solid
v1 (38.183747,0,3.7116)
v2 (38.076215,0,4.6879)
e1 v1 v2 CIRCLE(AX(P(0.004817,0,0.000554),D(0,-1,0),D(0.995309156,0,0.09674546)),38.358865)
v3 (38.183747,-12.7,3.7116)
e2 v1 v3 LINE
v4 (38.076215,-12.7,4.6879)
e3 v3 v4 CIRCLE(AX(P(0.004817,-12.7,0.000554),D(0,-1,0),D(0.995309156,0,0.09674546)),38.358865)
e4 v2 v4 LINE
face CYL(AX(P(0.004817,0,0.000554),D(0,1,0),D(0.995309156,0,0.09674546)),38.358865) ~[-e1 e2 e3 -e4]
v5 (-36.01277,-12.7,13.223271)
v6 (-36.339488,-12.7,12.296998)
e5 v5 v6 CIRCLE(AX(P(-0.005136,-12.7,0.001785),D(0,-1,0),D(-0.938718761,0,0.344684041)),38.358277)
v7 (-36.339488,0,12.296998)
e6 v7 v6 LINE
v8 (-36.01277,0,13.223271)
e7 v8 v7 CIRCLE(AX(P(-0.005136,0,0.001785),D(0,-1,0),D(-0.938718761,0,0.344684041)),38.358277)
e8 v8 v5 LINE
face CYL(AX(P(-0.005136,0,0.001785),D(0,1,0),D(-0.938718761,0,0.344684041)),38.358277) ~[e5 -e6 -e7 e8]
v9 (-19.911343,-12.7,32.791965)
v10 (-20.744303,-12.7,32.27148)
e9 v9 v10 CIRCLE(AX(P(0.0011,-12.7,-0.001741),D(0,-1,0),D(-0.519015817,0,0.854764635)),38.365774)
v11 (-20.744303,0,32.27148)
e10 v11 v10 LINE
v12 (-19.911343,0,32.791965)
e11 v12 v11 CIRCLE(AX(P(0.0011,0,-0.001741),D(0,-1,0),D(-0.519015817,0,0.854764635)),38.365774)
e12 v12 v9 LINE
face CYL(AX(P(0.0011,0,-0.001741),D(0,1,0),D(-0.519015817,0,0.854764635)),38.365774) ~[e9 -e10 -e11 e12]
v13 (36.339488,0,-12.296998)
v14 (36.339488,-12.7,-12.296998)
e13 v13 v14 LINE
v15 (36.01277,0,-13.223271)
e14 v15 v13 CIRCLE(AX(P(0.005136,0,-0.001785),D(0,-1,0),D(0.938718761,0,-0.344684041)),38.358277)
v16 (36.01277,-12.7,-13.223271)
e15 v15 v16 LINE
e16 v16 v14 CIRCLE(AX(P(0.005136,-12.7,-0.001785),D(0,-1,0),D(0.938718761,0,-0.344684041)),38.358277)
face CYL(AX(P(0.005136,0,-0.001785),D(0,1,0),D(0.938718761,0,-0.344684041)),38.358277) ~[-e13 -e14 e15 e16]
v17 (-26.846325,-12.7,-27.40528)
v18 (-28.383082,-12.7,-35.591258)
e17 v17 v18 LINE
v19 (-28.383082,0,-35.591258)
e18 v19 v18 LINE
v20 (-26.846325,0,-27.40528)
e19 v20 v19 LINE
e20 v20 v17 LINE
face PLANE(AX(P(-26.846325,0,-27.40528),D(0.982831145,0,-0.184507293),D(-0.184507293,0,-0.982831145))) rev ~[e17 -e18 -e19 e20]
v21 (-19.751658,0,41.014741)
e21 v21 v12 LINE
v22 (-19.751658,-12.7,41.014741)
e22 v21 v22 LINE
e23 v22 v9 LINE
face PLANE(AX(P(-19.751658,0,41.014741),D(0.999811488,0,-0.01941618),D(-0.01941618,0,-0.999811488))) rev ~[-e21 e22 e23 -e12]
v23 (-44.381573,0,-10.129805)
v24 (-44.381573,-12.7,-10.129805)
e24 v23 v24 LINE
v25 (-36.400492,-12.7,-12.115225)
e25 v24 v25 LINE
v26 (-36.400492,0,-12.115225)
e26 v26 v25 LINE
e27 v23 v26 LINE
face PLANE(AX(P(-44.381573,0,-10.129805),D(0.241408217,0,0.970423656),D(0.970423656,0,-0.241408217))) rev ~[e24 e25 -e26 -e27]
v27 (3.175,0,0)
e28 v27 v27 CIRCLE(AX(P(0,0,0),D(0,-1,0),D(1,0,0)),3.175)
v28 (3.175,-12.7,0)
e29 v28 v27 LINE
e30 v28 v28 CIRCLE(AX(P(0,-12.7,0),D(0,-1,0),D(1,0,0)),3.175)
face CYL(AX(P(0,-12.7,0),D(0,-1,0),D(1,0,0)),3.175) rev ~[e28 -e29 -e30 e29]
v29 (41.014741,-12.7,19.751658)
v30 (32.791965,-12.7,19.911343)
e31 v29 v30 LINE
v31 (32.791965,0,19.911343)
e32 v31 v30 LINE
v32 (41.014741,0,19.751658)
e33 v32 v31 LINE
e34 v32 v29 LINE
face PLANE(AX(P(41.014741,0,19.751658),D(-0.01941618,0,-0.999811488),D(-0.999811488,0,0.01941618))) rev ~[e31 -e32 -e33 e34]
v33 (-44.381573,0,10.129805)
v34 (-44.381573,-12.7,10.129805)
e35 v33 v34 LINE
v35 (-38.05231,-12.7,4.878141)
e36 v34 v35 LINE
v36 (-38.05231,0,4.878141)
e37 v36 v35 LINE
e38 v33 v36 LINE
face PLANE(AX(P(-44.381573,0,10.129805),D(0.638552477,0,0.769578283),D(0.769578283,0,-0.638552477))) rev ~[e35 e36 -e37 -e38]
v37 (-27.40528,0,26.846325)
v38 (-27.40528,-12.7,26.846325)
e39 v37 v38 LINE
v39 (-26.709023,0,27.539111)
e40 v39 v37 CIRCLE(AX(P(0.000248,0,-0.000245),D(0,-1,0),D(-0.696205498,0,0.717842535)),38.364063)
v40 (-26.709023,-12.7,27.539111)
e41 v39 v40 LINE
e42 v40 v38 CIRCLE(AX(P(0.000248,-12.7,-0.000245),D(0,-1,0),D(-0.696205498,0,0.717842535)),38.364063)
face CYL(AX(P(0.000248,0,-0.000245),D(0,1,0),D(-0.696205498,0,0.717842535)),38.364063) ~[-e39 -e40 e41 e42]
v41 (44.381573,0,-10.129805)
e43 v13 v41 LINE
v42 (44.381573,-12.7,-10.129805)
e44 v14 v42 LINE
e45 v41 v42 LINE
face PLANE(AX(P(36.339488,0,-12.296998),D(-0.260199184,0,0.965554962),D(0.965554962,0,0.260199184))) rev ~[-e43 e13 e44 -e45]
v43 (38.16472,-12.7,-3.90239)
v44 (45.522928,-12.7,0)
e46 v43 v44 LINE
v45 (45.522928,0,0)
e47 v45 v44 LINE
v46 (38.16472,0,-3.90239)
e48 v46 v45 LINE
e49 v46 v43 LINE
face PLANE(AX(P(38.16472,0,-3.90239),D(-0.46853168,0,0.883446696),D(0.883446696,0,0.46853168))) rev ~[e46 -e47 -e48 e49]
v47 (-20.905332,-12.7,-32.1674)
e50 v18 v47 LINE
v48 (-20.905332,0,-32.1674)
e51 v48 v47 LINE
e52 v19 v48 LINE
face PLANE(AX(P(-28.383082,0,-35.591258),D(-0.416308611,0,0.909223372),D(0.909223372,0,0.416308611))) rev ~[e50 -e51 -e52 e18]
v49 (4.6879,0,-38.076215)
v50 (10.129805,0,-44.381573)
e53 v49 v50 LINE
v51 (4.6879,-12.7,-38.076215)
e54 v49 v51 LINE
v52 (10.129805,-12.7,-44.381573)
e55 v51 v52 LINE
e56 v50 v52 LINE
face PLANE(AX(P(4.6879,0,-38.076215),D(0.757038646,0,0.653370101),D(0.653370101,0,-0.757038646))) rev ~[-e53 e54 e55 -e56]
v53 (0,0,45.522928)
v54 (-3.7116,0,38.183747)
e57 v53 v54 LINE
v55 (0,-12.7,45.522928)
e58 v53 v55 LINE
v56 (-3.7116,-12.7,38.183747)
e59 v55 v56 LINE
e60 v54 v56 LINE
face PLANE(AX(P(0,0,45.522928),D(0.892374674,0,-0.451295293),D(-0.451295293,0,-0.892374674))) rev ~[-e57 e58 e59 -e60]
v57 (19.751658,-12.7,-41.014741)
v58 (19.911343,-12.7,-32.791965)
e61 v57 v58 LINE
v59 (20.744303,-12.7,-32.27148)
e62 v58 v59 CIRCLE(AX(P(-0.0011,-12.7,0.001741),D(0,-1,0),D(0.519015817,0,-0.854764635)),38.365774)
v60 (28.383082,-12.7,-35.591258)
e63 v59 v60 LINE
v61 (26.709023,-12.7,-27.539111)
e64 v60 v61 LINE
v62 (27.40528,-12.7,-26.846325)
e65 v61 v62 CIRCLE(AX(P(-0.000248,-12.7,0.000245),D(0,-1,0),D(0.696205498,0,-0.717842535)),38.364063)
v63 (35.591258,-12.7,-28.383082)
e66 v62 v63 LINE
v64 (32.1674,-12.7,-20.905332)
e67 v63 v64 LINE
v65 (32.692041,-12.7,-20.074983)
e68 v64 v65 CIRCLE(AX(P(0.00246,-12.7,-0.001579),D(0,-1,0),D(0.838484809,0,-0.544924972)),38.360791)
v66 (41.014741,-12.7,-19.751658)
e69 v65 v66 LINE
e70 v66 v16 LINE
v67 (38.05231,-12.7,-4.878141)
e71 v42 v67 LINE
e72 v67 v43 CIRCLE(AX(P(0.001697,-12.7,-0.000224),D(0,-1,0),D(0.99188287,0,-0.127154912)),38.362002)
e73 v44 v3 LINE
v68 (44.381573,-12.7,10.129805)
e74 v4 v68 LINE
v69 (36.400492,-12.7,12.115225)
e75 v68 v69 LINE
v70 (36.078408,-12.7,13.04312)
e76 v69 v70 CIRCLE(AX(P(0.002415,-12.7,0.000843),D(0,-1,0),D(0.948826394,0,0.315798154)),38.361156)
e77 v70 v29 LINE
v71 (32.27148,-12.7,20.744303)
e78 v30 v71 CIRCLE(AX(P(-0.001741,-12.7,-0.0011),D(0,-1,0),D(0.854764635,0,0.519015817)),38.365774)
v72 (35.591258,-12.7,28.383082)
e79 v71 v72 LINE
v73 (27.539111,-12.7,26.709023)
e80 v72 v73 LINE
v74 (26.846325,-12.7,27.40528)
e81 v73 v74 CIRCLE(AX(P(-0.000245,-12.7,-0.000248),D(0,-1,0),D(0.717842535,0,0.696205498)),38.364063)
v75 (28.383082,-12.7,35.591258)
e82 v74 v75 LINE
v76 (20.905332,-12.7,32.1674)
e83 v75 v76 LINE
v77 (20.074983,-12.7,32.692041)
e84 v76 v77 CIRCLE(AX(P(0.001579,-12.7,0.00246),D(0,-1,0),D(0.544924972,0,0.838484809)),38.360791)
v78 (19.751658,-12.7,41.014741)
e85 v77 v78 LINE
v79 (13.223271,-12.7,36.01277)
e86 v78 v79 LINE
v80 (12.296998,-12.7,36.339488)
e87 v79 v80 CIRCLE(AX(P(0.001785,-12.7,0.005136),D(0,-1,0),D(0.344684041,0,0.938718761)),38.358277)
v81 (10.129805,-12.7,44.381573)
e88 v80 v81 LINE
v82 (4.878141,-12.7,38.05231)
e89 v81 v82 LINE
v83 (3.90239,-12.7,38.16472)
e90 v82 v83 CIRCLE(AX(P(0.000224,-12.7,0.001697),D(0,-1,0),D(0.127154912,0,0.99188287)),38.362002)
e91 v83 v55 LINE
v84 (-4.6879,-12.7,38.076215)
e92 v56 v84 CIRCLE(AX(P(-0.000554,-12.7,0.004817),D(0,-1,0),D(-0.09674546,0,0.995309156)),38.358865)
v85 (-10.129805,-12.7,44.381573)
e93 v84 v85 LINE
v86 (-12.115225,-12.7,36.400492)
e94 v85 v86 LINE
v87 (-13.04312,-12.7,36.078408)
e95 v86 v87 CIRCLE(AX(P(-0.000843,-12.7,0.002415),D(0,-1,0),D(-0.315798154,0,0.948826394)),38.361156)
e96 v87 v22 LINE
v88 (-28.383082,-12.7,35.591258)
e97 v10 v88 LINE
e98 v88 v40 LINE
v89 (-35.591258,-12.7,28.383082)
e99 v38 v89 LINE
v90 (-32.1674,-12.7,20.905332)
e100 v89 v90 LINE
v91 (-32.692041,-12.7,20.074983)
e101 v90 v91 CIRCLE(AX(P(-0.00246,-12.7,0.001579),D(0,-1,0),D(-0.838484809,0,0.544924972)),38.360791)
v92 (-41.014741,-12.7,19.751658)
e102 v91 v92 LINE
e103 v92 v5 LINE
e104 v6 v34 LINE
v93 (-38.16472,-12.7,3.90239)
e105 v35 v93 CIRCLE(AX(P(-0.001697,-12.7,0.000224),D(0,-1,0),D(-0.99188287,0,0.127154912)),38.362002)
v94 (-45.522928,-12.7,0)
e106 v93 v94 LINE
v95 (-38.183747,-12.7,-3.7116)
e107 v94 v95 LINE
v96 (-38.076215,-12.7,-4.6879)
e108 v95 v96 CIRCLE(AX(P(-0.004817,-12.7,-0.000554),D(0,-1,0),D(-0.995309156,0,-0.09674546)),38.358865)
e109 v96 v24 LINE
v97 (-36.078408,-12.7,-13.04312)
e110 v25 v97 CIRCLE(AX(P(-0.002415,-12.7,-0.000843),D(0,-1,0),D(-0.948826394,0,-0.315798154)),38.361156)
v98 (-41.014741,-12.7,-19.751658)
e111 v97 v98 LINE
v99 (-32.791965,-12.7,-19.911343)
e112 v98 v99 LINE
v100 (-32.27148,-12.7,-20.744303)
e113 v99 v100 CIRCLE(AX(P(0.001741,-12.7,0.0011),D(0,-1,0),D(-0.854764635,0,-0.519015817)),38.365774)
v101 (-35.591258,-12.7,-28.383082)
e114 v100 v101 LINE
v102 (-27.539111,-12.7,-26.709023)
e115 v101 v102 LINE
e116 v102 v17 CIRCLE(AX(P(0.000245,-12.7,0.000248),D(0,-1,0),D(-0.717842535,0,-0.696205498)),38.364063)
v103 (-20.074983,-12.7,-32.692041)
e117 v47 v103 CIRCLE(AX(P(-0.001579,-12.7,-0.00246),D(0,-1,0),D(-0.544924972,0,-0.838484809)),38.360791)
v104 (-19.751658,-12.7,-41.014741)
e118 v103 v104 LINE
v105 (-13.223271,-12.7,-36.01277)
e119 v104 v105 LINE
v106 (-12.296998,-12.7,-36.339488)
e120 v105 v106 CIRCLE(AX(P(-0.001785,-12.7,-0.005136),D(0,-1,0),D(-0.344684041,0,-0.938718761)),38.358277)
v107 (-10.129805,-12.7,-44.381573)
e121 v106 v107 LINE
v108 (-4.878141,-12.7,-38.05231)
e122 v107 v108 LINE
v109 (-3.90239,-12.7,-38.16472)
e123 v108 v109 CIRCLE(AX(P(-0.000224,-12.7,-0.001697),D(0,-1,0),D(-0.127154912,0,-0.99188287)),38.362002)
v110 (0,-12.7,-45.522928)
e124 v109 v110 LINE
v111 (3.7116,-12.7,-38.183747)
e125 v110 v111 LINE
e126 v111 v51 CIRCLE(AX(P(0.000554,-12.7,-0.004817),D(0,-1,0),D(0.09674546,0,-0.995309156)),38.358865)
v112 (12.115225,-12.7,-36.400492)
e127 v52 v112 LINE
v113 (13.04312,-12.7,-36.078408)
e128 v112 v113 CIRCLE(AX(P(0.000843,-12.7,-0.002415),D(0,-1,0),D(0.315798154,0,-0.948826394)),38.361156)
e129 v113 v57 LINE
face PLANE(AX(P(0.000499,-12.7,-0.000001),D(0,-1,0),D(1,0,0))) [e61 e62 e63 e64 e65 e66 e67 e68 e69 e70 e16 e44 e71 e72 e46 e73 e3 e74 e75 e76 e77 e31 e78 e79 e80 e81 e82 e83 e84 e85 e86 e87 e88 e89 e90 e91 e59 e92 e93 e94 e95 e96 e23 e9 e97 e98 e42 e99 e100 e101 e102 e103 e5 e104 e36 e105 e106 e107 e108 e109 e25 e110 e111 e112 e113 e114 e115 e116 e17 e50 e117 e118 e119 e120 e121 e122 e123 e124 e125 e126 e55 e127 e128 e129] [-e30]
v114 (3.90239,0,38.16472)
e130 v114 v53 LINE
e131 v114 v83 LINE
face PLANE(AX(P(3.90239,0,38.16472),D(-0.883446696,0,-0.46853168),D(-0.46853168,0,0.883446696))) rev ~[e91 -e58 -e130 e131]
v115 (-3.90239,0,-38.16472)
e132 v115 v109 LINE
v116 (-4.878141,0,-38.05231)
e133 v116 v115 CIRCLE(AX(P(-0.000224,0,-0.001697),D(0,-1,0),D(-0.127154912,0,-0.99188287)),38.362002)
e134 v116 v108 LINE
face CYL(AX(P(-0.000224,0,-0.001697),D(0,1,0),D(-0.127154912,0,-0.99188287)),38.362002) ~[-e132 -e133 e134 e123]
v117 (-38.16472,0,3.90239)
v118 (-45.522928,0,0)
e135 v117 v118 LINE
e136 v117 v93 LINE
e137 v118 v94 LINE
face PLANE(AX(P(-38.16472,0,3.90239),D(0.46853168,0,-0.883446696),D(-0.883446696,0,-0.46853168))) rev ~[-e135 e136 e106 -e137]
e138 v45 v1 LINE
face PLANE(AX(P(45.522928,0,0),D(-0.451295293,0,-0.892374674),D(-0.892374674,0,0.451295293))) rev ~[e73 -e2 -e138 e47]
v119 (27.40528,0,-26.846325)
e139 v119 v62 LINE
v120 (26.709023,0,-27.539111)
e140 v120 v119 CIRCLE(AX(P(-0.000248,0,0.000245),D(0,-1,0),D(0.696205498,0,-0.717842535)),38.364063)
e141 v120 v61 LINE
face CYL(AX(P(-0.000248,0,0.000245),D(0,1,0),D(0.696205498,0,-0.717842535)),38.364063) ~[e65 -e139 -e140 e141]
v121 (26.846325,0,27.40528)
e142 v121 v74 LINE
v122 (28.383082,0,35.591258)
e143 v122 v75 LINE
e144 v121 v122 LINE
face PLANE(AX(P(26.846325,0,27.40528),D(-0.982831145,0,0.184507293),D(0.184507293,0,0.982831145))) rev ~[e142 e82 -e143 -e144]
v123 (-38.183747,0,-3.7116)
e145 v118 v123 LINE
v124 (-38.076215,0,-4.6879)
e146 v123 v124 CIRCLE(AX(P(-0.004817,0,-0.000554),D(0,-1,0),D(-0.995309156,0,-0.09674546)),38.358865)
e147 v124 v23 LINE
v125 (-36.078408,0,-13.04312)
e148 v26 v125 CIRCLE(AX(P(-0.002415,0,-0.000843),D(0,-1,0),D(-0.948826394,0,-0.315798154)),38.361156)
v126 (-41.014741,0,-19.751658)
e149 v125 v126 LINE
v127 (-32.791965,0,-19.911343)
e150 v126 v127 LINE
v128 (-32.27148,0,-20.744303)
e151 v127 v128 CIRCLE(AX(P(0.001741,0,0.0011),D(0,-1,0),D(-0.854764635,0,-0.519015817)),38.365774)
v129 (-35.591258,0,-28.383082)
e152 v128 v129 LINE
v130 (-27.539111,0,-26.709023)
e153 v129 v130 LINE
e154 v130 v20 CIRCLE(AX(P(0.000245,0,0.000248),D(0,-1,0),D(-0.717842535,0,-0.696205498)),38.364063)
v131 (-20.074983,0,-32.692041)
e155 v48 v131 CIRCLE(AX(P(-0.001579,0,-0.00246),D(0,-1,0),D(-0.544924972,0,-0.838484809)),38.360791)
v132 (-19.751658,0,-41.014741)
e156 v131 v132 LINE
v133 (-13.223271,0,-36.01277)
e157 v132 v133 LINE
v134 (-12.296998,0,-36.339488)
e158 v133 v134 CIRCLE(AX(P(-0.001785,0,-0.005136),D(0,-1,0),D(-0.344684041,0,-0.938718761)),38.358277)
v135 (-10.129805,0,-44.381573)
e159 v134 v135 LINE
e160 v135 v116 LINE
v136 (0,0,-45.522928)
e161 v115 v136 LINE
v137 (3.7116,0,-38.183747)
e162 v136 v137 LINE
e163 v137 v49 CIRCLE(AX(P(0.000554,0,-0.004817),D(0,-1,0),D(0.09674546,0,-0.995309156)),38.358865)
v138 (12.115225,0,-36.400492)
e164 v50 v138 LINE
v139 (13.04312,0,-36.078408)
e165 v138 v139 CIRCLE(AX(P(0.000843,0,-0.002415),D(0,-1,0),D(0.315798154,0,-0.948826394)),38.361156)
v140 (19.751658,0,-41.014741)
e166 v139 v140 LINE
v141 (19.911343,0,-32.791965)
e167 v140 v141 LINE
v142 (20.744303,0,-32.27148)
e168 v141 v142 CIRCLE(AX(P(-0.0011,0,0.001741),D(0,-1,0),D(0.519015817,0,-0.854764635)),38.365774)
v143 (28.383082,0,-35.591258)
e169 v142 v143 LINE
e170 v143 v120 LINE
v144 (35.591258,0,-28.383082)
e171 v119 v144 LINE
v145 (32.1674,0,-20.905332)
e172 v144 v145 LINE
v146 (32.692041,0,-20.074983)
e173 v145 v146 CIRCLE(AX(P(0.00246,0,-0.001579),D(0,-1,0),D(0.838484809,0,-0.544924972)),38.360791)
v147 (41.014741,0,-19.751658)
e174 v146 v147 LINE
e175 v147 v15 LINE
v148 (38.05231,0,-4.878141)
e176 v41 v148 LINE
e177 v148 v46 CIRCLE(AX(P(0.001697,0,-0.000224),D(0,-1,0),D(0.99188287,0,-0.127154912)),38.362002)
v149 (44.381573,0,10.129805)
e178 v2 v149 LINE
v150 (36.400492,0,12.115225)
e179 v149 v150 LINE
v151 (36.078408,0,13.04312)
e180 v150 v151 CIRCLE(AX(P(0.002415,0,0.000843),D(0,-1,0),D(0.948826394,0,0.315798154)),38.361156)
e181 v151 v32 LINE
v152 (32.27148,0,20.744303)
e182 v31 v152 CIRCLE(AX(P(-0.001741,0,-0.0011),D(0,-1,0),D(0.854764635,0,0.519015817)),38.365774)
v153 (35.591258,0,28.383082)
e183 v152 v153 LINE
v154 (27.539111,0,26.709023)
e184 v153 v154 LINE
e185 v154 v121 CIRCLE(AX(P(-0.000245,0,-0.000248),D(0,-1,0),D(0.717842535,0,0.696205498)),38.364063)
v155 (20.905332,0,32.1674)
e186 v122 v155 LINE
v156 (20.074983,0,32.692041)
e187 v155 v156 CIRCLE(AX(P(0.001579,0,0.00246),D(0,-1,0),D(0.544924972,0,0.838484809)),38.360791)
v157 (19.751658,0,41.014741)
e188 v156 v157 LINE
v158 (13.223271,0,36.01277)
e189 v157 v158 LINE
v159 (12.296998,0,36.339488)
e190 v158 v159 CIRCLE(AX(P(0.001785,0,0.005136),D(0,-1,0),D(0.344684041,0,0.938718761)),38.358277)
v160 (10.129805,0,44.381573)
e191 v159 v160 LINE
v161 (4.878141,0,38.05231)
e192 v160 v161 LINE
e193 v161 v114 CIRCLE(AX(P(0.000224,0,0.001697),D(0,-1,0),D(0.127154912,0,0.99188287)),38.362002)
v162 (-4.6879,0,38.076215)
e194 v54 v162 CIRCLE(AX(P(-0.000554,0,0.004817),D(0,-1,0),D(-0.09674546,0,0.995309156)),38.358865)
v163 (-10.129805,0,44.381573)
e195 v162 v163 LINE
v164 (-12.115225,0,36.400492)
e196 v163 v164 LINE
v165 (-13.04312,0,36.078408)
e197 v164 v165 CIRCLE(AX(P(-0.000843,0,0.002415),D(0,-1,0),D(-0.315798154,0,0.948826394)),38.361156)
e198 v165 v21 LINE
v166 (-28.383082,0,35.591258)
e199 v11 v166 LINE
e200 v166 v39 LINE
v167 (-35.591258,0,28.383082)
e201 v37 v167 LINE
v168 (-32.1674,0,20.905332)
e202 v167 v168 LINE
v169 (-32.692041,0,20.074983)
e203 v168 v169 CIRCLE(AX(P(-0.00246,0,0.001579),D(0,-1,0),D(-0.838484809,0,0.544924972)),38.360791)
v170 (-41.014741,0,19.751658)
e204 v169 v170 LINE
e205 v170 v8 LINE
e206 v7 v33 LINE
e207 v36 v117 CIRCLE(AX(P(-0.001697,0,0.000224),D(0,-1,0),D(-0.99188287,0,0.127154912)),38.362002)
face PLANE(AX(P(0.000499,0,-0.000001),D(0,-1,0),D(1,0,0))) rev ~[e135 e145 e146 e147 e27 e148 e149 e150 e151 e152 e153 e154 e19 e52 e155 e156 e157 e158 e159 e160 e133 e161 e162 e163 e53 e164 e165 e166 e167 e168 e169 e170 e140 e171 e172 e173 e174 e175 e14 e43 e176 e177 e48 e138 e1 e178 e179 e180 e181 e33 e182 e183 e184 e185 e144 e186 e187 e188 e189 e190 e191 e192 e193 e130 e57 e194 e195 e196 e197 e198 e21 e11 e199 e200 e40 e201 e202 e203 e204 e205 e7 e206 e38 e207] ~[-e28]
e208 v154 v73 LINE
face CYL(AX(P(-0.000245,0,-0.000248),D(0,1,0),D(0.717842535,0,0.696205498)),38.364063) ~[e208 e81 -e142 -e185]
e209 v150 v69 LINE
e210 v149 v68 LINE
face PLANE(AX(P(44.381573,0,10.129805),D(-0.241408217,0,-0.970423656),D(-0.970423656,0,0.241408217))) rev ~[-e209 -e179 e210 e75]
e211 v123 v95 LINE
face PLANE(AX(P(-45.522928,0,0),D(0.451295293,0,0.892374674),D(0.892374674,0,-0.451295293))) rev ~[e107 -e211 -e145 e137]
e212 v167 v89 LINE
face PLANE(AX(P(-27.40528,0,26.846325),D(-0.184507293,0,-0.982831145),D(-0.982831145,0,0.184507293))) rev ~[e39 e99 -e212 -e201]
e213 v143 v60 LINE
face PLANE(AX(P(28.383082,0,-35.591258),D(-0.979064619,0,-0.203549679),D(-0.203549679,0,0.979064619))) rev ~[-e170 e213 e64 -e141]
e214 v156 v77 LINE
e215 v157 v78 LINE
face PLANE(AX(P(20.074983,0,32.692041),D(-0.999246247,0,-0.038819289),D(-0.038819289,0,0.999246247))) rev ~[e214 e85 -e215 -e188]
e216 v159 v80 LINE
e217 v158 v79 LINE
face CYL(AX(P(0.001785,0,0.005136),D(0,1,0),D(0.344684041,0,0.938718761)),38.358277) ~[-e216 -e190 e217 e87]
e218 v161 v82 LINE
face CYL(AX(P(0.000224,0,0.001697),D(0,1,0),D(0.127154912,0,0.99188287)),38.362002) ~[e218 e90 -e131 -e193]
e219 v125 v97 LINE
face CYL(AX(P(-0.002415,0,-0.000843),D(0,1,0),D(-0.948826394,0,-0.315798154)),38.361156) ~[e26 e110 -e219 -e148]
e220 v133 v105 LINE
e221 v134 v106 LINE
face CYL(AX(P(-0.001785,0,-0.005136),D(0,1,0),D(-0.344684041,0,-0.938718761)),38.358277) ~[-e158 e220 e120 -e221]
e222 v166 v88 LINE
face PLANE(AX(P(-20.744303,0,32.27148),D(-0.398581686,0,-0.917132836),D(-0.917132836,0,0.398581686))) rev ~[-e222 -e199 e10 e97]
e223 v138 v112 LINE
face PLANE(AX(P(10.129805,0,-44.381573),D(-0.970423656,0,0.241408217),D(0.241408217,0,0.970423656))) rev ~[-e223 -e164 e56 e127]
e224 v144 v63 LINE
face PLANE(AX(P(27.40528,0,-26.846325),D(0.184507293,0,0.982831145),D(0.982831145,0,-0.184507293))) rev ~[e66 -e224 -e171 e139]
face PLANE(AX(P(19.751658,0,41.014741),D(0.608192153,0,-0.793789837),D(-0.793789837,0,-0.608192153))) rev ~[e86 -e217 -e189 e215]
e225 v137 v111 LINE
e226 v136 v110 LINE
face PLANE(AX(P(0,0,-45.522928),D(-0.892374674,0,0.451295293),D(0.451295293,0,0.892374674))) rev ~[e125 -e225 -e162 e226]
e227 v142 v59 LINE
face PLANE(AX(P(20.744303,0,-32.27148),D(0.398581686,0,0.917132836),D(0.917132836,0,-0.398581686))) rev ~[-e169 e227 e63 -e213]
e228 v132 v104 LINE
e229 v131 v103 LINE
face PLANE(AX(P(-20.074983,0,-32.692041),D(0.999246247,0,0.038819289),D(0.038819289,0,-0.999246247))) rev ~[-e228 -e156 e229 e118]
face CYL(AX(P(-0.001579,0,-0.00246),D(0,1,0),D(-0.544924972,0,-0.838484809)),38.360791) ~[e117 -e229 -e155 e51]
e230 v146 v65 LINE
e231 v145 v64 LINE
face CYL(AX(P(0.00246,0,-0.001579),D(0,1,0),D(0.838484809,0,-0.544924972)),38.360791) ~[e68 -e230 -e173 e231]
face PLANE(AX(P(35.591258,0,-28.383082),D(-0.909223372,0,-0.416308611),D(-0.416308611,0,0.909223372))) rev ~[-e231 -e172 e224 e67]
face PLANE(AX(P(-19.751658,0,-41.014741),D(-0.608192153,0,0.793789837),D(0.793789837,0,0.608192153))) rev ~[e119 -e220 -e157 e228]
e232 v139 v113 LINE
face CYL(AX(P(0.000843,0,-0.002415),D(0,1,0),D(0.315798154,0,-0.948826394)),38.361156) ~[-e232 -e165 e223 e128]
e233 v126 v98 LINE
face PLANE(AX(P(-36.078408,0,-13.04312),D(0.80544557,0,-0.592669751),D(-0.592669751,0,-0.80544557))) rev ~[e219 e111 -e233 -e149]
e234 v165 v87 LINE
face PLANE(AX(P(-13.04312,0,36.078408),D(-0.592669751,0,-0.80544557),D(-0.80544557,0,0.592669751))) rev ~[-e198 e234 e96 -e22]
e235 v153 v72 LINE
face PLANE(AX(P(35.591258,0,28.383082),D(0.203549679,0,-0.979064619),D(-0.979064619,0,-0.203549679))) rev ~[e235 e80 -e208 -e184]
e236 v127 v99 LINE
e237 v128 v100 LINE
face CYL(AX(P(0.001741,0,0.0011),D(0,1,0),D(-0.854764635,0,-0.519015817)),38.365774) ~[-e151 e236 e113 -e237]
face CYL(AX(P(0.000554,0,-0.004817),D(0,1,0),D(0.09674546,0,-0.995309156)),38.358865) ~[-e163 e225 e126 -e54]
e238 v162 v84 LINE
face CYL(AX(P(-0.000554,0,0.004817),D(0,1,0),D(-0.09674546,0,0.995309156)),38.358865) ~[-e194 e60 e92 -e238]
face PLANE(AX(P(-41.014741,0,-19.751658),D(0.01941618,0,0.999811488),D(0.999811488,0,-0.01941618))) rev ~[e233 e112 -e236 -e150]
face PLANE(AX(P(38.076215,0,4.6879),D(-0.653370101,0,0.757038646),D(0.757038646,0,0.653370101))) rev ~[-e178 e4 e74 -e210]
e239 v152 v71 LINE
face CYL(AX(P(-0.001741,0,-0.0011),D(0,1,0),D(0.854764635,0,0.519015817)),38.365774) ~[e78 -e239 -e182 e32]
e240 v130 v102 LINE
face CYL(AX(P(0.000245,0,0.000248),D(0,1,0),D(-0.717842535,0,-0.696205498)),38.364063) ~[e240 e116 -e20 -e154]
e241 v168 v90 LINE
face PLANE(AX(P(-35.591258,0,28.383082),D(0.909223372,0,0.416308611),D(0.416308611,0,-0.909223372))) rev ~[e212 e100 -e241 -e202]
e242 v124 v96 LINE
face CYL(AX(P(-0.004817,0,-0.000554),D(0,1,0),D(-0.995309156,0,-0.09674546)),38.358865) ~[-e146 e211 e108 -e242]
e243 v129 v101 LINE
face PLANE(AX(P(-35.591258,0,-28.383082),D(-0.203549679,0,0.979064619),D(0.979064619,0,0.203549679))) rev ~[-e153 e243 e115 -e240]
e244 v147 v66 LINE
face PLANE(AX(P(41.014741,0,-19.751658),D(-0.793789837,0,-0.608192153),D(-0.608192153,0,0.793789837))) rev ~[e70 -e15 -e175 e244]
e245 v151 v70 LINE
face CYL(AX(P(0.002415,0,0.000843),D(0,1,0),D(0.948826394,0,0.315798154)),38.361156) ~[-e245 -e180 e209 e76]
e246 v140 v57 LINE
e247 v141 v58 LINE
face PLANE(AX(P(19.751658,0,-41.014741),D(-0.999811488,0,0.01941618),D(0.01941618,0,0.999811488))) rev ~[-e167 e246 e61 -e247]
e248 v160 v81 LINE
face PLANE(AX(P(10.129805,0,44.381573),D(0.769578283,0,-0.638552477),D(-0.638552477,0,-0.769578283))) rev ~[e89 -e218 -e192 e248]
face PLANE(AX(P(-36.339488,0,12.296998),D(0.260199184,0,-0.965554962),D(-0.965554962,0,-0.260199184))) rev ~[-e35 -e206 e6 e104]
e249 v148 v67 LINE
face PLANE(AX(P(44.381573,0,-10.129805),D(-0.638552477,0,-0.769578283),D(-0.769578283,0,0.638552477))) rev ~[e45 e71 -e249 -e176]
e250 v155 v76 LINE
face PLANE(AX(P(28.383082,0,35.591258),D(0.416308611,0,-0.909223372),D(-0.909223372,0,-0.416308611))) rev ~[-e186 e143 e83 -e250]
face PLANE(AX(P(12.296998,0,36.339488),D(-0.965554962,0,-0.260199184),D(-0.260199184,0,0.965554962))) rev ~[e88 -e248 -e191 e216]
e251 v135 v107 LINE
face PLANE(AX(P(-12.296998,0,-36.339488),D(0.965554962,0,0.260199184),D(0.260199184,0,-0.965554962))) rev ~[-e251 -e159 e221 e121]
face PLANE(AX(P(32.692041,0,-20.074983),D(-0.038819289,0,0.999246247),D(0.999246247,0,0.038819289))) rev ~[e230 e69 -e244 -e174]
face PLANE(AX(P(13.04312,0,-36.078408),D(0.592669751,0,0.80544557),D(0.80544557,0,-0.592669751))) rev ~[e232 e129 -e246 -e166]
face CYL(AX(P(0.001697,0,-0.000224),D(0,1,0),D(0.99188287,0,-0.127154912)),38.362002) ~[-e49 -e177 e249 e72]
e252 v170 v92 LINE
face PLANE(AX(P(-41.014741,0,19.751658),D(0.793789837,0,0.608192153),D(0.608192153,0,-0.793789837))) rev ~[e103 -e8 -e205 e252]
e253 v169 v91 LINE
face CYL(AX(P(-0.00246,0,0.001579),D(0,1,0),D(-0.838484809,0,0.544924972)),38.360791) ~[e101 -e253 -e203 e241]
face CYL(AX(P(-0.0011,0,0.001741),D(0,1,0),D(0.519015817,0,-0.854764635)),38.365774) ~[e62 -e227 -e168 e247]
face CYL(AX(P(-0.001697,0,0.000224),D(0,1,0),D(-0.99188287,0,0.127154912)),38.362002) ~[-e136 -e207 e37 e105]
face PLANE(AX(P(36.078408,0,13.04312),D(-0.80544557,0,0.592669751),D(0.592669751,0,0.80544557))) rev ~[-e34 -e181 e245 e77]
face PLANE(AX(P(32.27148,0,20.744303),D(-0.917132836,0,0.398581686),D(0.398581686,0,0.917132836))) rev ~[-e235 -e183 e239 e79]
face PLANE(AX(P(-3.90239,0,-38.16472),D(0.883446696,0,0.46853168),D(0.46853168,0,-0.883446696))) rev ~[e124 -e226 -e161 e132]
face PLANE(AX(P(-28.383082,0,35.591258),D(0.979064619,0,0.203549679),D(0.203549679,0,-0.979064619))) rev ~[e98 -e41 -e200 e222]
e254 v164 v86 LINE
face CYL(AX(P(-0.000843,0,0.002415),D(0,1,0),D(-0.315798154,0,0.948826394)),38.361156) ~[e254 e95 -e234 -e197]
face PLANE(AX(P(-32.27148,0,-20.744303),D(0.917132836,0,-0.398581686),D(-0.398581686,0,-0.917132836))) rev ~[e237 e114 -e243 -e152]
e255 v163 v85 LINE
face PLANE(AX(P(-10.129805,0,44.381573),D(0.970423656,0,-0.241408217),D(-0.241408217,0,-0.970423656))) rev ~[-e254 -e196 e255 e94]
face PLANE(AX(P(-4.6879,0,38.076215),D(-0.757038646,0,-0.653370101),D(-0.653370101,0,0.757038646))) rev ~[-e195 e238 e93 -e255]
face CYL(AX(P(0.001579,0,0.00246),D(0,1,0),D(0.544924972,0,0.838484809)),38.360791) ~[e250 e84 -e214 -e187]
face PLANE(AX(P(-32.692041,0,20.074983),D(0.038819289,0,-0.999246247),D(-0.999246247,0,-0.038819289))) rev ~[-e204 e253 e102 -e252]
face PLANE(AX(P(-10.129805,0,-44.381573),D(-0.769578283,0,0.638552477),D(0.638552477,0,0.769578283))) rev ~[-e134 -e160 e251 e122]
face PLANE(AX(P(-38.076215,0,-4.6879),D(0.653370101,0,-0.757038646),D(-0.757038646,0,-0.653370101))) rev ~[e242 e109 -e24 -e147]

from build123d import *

# Parameters (mm, degrees)
F1_DEPTH = 12.7
F2_R     = 3.175
F3_DEPTH = 25.4


with BuildPart() as f1:
    # F0 (on Front) → F1 (new body)
    with BuildSketch(Plane.XZ):
        with BuildLine():
            ThreePointArc((38.16472, -3.90239), (38.313933, -1.95373), (38.363714, 0))
            ThreePointArc((38.363714, 0), (38.318696, 1.85798), (38.183747, 3.7116))
            ThreePointArc((38.183747, 3.7116), (38.133106, 4.200094), (38.076215, 4.6879))
            ThreePointArc((38.076215, 4.6879), (37.423071, 8.443238), (36.400492, 12.115225))
            ThreePointArc((36.400492, 12.115225), (36.24242, 12.580203), (36.078408, 13.04312))
            ThreePointArc((36.078408, 13.04312), (34.606, 16.558965), (32.791965, 19.911343))
            ThreePointArc((32.791965, 19.911343), (32.534388, 20.329489), (32.27148, 20.744303))
            ThreePointArc((32.27148, 20.744303), (30.053638, 23.844357), (27.539111, 26.709023))
            ThreePointArc((27.539111, 26.709023), (27.194947, 27.059368), (26.846325, 27.40528))
            ThreePointArc((26.846325, 27.40528), (23.994262, 29.934093), (20.905332, 32.1674))
            ThreePointArc((20.905332, 32.1674), (20.491837, 32.432378), (20.074983, 32.692041))
            ThreePointArc((20.074983, 32.692041), (16.731714, 34.522808), (13.223271, 36.01277))
            ThreePointArc((13.223271, 36.01277), (12.76118, 36.179094), (12.296998, 36.339488))
            ThreePointArc((12.296998, 36.339488), (8.630167, 37.380406), (4.878141, 38.05231))
            ThreePointArc((4.878141, 38.05231), (4.390625, 38.111638), (3.90239, 38.16472))
            ThreePointArc((3.90239, 38.16472), (0.095868, 38.363594), (-3.7116, 38.183747))
            ThreePointArc((-3.7116, 38.183747), (-4.200094, 38.133106), (-4.6879, 38.076215))
            ThreePointArc((-4.6879, 38.076215), (-8.443238, 37.423071), (-12.115225, 36.400492))
            ThreePointArc((-12.115225, 36.400492), (-12.580203, 36.24242), (-13.04312, 36.078408))
            ThreePointArc((-13.04312, 36.078408), (-16.558965, 34.606), (-19.911343, 32.791965))
            ThreePointArc((-19.911343, 32.791965), (-20.329489, 32.534388), (-20.744303, 32.27148))
            ThreePointArc((-20.744303, 32.27148), (-23.844357, 30.053638), (-26.709023, 27.539111))
            ThreePointArc((-26.709023, 27.539111), (-27.059368, 27.194947), (-27.40528, 26.846325))
            ThreePointArc((-27.40528, 26.846325), (-29.934093, 23.994262), (-32.1674, 20.905332))
            ThreePointArc((-32.1674, 20.905332), (-32.432378, 20.491837), (-32.692041, 20.074983))
            ThreePointArc((-32.692041, 20.074983), (-34.522808, 16.731714), (-36.01277, 13.223271))
            ThreePointArc((-36.01277, 13.223271), (-36.179094, 12.76118), (-36.339488, 12.296998))
            ThreePointArc((-36.339488, 12.296998), (-37.380406, 8.630167), (-38.05231, 4.878141))
            ThreePointArc((-38.05231, 4.878141), (-38.111638, 4.390625), (-38.16472, 3.90239))
            ThreePointArc((-38.16472, 3.90239), (-38.363594, 0.095868), (-38.183747, -3.7116))
            ThreePointArc((-38.183747, -3.7116), (-38.133106, -4.200094), (-38.076215, -4.6879))
            ThreePointArc((-38.076215, -4.6879), (-37.423071, -8.443238), (-36.400492, -12.115225))
            ThreePointArc((-36.400492, -12.115225), (-36.24242, -12.580203), (-36.078408, -13.04312))
            ThreePointArc((-36.078408, -13.04312), (-34.606, -16.558965), (-32.791965, -19.911343))
            ThreePointArc((-32.791965, -19.911343), (-32.534388, -20.329489), (-32.27148, -20.744303))
            ThreePointArc((-32.27148, -20.744303), (-30.053638, -23.844357), (-27.539111, -26.709023))
            ThreePointArc((-27.539111, -26.709023), (-27.194947, -27.059368), (-26.846325, -27.40528))
            ThreePointArc((-26.846325, -27.40528), (-23.994262, -29.934093), (-20.905332, -32.1674))
            ThreePointArc((-20.905332, -32.1674), (-20.491837, -32.432378), (-20.074983, -32.692041))
            ThreePointArc((-20.074983, -32.692041), (-16.731714, -34.522808), (-13.223271, -36.01277))
            ThreePointArc((-13.223271, -36.01277), (-12.76118, -36.179094), (-12.296998, -36.339488))
            ThreePointArc((-12.296998, -36.339488), (-8.630167, -37.380406), (-4.878141, -38.05231))
            ThreePointArc((-4.878141, -38.05231), (-4.390625, -38.111638), (-3.90239, -38.16472))
            ThreePointArc((-3.90239, -38.16472), (-0.095868, -38.363594), (3.7116, -38.183747))
            ThreePointArc((3.7116, -38.183747), (4.200094, -38.133106), (4.6879, -38.076215))
            ThreePointArc((4.6879, -38.076215), (8.443238, -37.423071), (12.115225, -36.400492))
            ThreePointArc((12.115225, -36.400492), (12.580203, -36.24242), (13.04312, -36.078408))
            ThreePointArc((13.04312, -36.078408), (16.558965, -34.606), (19.911343, -32.791965))
            ThreePointArc((19.911343, -32.791965), (20.329489, -32.534388), (20.744303, -32.27148))
            ThreePointArc((20.744303, -32.27148), (23.844357, -30.053638), (26.709023, -27.539111))
            ThreePointArc((26.709023, -27.539111), (27.059368, -27.194947), (27.40528, -26.846325))
            ThreePointArc((27.40528, -26.846325), (29.934093, -23.994262), (32.1674, -20.905332))
            ThreePointArc((32.1674, -20.905332), (32.432378, -20.491837), (32.692041, -20.074983))
            ThreePointArc((32.692041, -20.074983), (34.522808, -16.731714), (36.01277, -13.223271))
            ThreePointArc((36.01277, -13.223271), (36.179094, -12.76118), (36.339488, -12.296998))
            ThreePointArc((36.339488, -12.296998), (37.380406, -8.630167), (38.05231, -4.878141))
            ThreePointArc((38.05231, -4.878141), (38.111638, -4.390625), (38.16472, -3.90239))
        make_face()
        with BuildLine():
            ThreePointArc((38.183747, 3.7116), (38.318696, 1.85798), (38.363714, 0))
            ThreePointArc((38.363714, 0), (38.313933, -1.95373), (38.16472, -3.90239))
            Line((38.16472, -3.90239), (45.522928, 0))
            Line((45.522928, 0), (38.183747, 3.7116))
        make_face()
        with BuildLine():
            ThreePointArc((36.400492, 12.115225), (37.423071, 8.443238), (38.076215, 4.6879))
            Line((38.076215, 4.6879), (44.381573, 10.129805))
            Line((44.381573, 10.129805), (36.400492, 12.115225))
        make_face()
        with BuildLine():
            Line((44.381573, -10.129805), (38.05231, -4.878141))
            ThreePointArc((38.05231, -4.878141), (37.380406, -8.630167), (36.339488, -12.296998))
            Line((36.339488, -12.296998), (44.381573, -10.129805))
        make_face()
        with BuildLine():
            ThreePointArc((32.791965, 19.911343), (34.606, 16.558965), (36.078408, 13.04312))
            Line((36.078408, 13.04312), (41.014741, 19.751658))
            Line((41.014741, 19.751658), (32.791965, 19.911343))
        make_face()
        with BuildLine():
            Line((41.014741, -19.751658), (36.01277, -13.223271))
            ThreePointArc((36.01277, -13.223271), (34.522808, -16.731714), (32.692041, -20.074983))
            Line((32.692041, -20.074983), (41.014741, -19.751658))
        make_face()
        with BuildLine():
            ThreePointArc((27.539111, 26.709023), (30.053638, 23.844357), (32.27148, 20.744303))
            Line((32.27148, 20.744303), (35.591258, 28.383082))
            Line((35.591258, 28.383082), (27.539111, 26.709023))
        make_face()
        with BuildLine():
            Line((35.591258, -28.383082), (32.1674, -20.905332))
            ThreePointArc((32.1674, -20.905332), (29.934093, -23.994262), (27.40528, -26.846325))
            Line((27.40528, -26.846325), (35.591258, -28.383082))
        make_face()
        with BuildLine():
            ThreePointArc((20.905332, 32.1674), (23.994262, 29.934093), (26.846325, 27.40528))
            Line((26.846325, 27.40528), (28.383082, 35.591258))
            Line((28.383082, 35.591258), (20.905332, 32.1674))
        make_face()
        with BuildLine():
            Line((28.383082, -35.591258), (26.709023, -27.539111))
            ThreePointArc((26.709023, -27.539111), (23.844357, -30.053638), (20.744303, -32.27148))
            Line((20.744303, -32.27148), (28.383082, -35.591258))
        make_face()
        with BuildLine():
            ThreePointArc((13.223271, 36.01277), (16.731714, 34.522808), (20.074983, 32.692041))
            Line((20.074983, 32.692041), (19.751658, 41.014741))
            Line((19.751658, 41.014741), (13.223271, 36.01277))
        make_face()
        with BuildLine():
            Line((19.751658, -41.014741), (19.911343, -32.791965))
            ThreePointArc((19.911343, -32.791965), (16.558965, -34.606), (13.04312, -36.078408))
            Line((13.04312, -36.078408), (19.751658, -41.014741))
        make_face()
        with BuildLine():
            ThreePointArc((4.878141, 38.05231), (8.630167, 37.380406), (12.296998, 36.339488))
            Line((12.296998, 36.339488), (10.129805, 44.381573))
            Line((10.129805, 44.381573), (4.878141, 38.05231))
        make_face()
        with BuildLine():
            Line((10.129805, -44.381573), (12.115225, -36.400492))
            ThreePointArc((12.115225, -36.400492), (8.443238, -37.423071), (4.6879, -38.076215))
            Line((4.6879, -38.076215), (10.129805, -44.381573))
        make_face()
        with BuildLine():
            ThreePointArc((-3.7116, 38.183747), (0.095868, 38.363594), (3.90239, 38.16472))
            Line((3.90239, 38.16472), (0, 45.522928))
            Line((0, 45.522928), (-3.7116, 38.183747))
        make_face()
        with BuildLine():
            Line((0, -45.522928), (3.7116, -38.183747))
            ThreePointArc((3.7116, -38.183747), (-0.095868, -38.363594), (-3.90239, -38.16472))
            Line((-3.90239, -38.16472), (0, -45.522928))
        make_face()
        with BuildLine():
            ThreePointArc((-12.115225, 36.400492), (-8.443238, 37.423071), (-4.6879, 38.076215))
            Line((-4.6879, 38.076215), (-10.129805, 44.381573))
            Line((-10.129805, 44.381573), (-12.115225, 36.400492))
        make_face()
        with BuildLine():
            Line((-10.129805, -44.381573), (-4.878141, -38.05231))
            ThreePointArc((-4.878141, -38.05231), (-8.630167, -37.380406), (-12.296998, -36.339488))
            Line((-12.296998, -36.339488), (-10.129805, -44.381573))
        make_face()
        with BuildLine():
            ThreePointArc((-19.911343, 32.791965), (-16.558965, 34.606), (-13.04312, 36.078408))
            Line((-13.04312, 36.078408), (-19.751658, 41.014741))
            Line((-19.751658, 41.014741), (-19.911343, 32.791965))
        make_face()
        with BuildLine():
            Line((-19.751658, -41.014741), (-13.223271, -36.01277))
            ThreePointArc((-13.223271, -36.01277), (-16.731714, -34.522808), (-20.074983, -32.692041))
            Line((-20.074983, -32.692041), (-19.751658, -41.014741))
        make_face()
        with BuildLine():
            ThreePointArc((-26.709023, 27.539111), (-23.844357, 30.053638), (-20.744303, 32.27148))
            Line((-20.744303, 32.27148), (-28.383082, 35.591258))
            Line((-28.383082, 35.591258), (-26.709023, 27.539111))
        make_face()
        with BuildLine():
            Line((-28.383082, -35.591258), (-20.905332, -32.1674))
            ThreePointArc((-20.905332, -32.1674), (-23.994262, -29.934093), (-26.846325, -27.40528))
            Line((-26.846325, -27.40528), (-28.383082, -35.591258))
        make_face()
        with BuildLine():
            ThreePointArc((-32.1674, 20.905332), (-29.934093, 23.994262), (-27.40528, 26.846325))
            Line((-27.40528, 26.846325), (-35.591258, 28.383082))
            Line((-35.591258, 28.383082), (-32.1674, 20.905332))
        make_face()
        with BuildLine():
            Line((-35.591258, -28.383082), (-27.539111, -26.709023))
            ThreePointArc((-27.539111, -26.709023), (-30.053638, -23.844357), (-32.27148, -20.744303))
            Line((-32.27148, -20.744303), (-35.591258, -28.383082))
        make_face()
        with BuildLine():
            ThreePointArc((-36.01277, 13.223271), (-34.522808, 16.731714), (-32.692041, 20.074983))
            Line((-32.692041, 20.074983), (-41.014741, 19.751658))
            Line((-41.014741, 19.751658), (-36.01277, 13.223271))
        make_face()
        with BuildLine():
            Line((-41.014741, -19.751658), (-32.791965, -19.911343))
            ThreePointArc((-32.791965, -19.911343), (-34.606, -16.558965), (-36.078408, -13.04312))
            Line((-36.078408, -13.04312), (-41.014741, -19.751658))
        make_face()
        with BuildLine():
            ThreePointArc((-38.05231, 4.878141), (-37.380406, 8.630167), (-36.339488, 12.296998))
            Line((-36.339488, 12.296998), (-44.381573, 10.129805))
            Line((-44.381573, 10.129805), (-38.05231, 4.878141))
        make_face()
        with BuildLine():
            Line((-44.381573, -10.129805), (-36.400492, -12.115225))
            ThreePointArc((-36.400492, -12.115225), (-37.423071, -8.443238), (-38.076215, -4.6879))
            Line((-38.076215, -4.6879), (-44.381573, -10.129805))
        make_face()
        with BuildLine():
            ThreePointArc((-38.183747, -3.7116), (-38.363594, 0.095868), (-38.16472, 3.90239))
            Line((-38.16472, 3.90239), (-45.522928, 0))
            Line((-45.522928, 0), (-38.183747, -3.7116))
        make_face()
    extrude(amount=F1_DEPTH)

    # F2 (on face) → F3 (cut)
    with BuildSketch(Plane.XZ.offset(12.7)):
        Circle(F2_R)
    extrude(amount=-F3_DEPTH, mode=Mode.SUBTRACT)


solid = f1.part
